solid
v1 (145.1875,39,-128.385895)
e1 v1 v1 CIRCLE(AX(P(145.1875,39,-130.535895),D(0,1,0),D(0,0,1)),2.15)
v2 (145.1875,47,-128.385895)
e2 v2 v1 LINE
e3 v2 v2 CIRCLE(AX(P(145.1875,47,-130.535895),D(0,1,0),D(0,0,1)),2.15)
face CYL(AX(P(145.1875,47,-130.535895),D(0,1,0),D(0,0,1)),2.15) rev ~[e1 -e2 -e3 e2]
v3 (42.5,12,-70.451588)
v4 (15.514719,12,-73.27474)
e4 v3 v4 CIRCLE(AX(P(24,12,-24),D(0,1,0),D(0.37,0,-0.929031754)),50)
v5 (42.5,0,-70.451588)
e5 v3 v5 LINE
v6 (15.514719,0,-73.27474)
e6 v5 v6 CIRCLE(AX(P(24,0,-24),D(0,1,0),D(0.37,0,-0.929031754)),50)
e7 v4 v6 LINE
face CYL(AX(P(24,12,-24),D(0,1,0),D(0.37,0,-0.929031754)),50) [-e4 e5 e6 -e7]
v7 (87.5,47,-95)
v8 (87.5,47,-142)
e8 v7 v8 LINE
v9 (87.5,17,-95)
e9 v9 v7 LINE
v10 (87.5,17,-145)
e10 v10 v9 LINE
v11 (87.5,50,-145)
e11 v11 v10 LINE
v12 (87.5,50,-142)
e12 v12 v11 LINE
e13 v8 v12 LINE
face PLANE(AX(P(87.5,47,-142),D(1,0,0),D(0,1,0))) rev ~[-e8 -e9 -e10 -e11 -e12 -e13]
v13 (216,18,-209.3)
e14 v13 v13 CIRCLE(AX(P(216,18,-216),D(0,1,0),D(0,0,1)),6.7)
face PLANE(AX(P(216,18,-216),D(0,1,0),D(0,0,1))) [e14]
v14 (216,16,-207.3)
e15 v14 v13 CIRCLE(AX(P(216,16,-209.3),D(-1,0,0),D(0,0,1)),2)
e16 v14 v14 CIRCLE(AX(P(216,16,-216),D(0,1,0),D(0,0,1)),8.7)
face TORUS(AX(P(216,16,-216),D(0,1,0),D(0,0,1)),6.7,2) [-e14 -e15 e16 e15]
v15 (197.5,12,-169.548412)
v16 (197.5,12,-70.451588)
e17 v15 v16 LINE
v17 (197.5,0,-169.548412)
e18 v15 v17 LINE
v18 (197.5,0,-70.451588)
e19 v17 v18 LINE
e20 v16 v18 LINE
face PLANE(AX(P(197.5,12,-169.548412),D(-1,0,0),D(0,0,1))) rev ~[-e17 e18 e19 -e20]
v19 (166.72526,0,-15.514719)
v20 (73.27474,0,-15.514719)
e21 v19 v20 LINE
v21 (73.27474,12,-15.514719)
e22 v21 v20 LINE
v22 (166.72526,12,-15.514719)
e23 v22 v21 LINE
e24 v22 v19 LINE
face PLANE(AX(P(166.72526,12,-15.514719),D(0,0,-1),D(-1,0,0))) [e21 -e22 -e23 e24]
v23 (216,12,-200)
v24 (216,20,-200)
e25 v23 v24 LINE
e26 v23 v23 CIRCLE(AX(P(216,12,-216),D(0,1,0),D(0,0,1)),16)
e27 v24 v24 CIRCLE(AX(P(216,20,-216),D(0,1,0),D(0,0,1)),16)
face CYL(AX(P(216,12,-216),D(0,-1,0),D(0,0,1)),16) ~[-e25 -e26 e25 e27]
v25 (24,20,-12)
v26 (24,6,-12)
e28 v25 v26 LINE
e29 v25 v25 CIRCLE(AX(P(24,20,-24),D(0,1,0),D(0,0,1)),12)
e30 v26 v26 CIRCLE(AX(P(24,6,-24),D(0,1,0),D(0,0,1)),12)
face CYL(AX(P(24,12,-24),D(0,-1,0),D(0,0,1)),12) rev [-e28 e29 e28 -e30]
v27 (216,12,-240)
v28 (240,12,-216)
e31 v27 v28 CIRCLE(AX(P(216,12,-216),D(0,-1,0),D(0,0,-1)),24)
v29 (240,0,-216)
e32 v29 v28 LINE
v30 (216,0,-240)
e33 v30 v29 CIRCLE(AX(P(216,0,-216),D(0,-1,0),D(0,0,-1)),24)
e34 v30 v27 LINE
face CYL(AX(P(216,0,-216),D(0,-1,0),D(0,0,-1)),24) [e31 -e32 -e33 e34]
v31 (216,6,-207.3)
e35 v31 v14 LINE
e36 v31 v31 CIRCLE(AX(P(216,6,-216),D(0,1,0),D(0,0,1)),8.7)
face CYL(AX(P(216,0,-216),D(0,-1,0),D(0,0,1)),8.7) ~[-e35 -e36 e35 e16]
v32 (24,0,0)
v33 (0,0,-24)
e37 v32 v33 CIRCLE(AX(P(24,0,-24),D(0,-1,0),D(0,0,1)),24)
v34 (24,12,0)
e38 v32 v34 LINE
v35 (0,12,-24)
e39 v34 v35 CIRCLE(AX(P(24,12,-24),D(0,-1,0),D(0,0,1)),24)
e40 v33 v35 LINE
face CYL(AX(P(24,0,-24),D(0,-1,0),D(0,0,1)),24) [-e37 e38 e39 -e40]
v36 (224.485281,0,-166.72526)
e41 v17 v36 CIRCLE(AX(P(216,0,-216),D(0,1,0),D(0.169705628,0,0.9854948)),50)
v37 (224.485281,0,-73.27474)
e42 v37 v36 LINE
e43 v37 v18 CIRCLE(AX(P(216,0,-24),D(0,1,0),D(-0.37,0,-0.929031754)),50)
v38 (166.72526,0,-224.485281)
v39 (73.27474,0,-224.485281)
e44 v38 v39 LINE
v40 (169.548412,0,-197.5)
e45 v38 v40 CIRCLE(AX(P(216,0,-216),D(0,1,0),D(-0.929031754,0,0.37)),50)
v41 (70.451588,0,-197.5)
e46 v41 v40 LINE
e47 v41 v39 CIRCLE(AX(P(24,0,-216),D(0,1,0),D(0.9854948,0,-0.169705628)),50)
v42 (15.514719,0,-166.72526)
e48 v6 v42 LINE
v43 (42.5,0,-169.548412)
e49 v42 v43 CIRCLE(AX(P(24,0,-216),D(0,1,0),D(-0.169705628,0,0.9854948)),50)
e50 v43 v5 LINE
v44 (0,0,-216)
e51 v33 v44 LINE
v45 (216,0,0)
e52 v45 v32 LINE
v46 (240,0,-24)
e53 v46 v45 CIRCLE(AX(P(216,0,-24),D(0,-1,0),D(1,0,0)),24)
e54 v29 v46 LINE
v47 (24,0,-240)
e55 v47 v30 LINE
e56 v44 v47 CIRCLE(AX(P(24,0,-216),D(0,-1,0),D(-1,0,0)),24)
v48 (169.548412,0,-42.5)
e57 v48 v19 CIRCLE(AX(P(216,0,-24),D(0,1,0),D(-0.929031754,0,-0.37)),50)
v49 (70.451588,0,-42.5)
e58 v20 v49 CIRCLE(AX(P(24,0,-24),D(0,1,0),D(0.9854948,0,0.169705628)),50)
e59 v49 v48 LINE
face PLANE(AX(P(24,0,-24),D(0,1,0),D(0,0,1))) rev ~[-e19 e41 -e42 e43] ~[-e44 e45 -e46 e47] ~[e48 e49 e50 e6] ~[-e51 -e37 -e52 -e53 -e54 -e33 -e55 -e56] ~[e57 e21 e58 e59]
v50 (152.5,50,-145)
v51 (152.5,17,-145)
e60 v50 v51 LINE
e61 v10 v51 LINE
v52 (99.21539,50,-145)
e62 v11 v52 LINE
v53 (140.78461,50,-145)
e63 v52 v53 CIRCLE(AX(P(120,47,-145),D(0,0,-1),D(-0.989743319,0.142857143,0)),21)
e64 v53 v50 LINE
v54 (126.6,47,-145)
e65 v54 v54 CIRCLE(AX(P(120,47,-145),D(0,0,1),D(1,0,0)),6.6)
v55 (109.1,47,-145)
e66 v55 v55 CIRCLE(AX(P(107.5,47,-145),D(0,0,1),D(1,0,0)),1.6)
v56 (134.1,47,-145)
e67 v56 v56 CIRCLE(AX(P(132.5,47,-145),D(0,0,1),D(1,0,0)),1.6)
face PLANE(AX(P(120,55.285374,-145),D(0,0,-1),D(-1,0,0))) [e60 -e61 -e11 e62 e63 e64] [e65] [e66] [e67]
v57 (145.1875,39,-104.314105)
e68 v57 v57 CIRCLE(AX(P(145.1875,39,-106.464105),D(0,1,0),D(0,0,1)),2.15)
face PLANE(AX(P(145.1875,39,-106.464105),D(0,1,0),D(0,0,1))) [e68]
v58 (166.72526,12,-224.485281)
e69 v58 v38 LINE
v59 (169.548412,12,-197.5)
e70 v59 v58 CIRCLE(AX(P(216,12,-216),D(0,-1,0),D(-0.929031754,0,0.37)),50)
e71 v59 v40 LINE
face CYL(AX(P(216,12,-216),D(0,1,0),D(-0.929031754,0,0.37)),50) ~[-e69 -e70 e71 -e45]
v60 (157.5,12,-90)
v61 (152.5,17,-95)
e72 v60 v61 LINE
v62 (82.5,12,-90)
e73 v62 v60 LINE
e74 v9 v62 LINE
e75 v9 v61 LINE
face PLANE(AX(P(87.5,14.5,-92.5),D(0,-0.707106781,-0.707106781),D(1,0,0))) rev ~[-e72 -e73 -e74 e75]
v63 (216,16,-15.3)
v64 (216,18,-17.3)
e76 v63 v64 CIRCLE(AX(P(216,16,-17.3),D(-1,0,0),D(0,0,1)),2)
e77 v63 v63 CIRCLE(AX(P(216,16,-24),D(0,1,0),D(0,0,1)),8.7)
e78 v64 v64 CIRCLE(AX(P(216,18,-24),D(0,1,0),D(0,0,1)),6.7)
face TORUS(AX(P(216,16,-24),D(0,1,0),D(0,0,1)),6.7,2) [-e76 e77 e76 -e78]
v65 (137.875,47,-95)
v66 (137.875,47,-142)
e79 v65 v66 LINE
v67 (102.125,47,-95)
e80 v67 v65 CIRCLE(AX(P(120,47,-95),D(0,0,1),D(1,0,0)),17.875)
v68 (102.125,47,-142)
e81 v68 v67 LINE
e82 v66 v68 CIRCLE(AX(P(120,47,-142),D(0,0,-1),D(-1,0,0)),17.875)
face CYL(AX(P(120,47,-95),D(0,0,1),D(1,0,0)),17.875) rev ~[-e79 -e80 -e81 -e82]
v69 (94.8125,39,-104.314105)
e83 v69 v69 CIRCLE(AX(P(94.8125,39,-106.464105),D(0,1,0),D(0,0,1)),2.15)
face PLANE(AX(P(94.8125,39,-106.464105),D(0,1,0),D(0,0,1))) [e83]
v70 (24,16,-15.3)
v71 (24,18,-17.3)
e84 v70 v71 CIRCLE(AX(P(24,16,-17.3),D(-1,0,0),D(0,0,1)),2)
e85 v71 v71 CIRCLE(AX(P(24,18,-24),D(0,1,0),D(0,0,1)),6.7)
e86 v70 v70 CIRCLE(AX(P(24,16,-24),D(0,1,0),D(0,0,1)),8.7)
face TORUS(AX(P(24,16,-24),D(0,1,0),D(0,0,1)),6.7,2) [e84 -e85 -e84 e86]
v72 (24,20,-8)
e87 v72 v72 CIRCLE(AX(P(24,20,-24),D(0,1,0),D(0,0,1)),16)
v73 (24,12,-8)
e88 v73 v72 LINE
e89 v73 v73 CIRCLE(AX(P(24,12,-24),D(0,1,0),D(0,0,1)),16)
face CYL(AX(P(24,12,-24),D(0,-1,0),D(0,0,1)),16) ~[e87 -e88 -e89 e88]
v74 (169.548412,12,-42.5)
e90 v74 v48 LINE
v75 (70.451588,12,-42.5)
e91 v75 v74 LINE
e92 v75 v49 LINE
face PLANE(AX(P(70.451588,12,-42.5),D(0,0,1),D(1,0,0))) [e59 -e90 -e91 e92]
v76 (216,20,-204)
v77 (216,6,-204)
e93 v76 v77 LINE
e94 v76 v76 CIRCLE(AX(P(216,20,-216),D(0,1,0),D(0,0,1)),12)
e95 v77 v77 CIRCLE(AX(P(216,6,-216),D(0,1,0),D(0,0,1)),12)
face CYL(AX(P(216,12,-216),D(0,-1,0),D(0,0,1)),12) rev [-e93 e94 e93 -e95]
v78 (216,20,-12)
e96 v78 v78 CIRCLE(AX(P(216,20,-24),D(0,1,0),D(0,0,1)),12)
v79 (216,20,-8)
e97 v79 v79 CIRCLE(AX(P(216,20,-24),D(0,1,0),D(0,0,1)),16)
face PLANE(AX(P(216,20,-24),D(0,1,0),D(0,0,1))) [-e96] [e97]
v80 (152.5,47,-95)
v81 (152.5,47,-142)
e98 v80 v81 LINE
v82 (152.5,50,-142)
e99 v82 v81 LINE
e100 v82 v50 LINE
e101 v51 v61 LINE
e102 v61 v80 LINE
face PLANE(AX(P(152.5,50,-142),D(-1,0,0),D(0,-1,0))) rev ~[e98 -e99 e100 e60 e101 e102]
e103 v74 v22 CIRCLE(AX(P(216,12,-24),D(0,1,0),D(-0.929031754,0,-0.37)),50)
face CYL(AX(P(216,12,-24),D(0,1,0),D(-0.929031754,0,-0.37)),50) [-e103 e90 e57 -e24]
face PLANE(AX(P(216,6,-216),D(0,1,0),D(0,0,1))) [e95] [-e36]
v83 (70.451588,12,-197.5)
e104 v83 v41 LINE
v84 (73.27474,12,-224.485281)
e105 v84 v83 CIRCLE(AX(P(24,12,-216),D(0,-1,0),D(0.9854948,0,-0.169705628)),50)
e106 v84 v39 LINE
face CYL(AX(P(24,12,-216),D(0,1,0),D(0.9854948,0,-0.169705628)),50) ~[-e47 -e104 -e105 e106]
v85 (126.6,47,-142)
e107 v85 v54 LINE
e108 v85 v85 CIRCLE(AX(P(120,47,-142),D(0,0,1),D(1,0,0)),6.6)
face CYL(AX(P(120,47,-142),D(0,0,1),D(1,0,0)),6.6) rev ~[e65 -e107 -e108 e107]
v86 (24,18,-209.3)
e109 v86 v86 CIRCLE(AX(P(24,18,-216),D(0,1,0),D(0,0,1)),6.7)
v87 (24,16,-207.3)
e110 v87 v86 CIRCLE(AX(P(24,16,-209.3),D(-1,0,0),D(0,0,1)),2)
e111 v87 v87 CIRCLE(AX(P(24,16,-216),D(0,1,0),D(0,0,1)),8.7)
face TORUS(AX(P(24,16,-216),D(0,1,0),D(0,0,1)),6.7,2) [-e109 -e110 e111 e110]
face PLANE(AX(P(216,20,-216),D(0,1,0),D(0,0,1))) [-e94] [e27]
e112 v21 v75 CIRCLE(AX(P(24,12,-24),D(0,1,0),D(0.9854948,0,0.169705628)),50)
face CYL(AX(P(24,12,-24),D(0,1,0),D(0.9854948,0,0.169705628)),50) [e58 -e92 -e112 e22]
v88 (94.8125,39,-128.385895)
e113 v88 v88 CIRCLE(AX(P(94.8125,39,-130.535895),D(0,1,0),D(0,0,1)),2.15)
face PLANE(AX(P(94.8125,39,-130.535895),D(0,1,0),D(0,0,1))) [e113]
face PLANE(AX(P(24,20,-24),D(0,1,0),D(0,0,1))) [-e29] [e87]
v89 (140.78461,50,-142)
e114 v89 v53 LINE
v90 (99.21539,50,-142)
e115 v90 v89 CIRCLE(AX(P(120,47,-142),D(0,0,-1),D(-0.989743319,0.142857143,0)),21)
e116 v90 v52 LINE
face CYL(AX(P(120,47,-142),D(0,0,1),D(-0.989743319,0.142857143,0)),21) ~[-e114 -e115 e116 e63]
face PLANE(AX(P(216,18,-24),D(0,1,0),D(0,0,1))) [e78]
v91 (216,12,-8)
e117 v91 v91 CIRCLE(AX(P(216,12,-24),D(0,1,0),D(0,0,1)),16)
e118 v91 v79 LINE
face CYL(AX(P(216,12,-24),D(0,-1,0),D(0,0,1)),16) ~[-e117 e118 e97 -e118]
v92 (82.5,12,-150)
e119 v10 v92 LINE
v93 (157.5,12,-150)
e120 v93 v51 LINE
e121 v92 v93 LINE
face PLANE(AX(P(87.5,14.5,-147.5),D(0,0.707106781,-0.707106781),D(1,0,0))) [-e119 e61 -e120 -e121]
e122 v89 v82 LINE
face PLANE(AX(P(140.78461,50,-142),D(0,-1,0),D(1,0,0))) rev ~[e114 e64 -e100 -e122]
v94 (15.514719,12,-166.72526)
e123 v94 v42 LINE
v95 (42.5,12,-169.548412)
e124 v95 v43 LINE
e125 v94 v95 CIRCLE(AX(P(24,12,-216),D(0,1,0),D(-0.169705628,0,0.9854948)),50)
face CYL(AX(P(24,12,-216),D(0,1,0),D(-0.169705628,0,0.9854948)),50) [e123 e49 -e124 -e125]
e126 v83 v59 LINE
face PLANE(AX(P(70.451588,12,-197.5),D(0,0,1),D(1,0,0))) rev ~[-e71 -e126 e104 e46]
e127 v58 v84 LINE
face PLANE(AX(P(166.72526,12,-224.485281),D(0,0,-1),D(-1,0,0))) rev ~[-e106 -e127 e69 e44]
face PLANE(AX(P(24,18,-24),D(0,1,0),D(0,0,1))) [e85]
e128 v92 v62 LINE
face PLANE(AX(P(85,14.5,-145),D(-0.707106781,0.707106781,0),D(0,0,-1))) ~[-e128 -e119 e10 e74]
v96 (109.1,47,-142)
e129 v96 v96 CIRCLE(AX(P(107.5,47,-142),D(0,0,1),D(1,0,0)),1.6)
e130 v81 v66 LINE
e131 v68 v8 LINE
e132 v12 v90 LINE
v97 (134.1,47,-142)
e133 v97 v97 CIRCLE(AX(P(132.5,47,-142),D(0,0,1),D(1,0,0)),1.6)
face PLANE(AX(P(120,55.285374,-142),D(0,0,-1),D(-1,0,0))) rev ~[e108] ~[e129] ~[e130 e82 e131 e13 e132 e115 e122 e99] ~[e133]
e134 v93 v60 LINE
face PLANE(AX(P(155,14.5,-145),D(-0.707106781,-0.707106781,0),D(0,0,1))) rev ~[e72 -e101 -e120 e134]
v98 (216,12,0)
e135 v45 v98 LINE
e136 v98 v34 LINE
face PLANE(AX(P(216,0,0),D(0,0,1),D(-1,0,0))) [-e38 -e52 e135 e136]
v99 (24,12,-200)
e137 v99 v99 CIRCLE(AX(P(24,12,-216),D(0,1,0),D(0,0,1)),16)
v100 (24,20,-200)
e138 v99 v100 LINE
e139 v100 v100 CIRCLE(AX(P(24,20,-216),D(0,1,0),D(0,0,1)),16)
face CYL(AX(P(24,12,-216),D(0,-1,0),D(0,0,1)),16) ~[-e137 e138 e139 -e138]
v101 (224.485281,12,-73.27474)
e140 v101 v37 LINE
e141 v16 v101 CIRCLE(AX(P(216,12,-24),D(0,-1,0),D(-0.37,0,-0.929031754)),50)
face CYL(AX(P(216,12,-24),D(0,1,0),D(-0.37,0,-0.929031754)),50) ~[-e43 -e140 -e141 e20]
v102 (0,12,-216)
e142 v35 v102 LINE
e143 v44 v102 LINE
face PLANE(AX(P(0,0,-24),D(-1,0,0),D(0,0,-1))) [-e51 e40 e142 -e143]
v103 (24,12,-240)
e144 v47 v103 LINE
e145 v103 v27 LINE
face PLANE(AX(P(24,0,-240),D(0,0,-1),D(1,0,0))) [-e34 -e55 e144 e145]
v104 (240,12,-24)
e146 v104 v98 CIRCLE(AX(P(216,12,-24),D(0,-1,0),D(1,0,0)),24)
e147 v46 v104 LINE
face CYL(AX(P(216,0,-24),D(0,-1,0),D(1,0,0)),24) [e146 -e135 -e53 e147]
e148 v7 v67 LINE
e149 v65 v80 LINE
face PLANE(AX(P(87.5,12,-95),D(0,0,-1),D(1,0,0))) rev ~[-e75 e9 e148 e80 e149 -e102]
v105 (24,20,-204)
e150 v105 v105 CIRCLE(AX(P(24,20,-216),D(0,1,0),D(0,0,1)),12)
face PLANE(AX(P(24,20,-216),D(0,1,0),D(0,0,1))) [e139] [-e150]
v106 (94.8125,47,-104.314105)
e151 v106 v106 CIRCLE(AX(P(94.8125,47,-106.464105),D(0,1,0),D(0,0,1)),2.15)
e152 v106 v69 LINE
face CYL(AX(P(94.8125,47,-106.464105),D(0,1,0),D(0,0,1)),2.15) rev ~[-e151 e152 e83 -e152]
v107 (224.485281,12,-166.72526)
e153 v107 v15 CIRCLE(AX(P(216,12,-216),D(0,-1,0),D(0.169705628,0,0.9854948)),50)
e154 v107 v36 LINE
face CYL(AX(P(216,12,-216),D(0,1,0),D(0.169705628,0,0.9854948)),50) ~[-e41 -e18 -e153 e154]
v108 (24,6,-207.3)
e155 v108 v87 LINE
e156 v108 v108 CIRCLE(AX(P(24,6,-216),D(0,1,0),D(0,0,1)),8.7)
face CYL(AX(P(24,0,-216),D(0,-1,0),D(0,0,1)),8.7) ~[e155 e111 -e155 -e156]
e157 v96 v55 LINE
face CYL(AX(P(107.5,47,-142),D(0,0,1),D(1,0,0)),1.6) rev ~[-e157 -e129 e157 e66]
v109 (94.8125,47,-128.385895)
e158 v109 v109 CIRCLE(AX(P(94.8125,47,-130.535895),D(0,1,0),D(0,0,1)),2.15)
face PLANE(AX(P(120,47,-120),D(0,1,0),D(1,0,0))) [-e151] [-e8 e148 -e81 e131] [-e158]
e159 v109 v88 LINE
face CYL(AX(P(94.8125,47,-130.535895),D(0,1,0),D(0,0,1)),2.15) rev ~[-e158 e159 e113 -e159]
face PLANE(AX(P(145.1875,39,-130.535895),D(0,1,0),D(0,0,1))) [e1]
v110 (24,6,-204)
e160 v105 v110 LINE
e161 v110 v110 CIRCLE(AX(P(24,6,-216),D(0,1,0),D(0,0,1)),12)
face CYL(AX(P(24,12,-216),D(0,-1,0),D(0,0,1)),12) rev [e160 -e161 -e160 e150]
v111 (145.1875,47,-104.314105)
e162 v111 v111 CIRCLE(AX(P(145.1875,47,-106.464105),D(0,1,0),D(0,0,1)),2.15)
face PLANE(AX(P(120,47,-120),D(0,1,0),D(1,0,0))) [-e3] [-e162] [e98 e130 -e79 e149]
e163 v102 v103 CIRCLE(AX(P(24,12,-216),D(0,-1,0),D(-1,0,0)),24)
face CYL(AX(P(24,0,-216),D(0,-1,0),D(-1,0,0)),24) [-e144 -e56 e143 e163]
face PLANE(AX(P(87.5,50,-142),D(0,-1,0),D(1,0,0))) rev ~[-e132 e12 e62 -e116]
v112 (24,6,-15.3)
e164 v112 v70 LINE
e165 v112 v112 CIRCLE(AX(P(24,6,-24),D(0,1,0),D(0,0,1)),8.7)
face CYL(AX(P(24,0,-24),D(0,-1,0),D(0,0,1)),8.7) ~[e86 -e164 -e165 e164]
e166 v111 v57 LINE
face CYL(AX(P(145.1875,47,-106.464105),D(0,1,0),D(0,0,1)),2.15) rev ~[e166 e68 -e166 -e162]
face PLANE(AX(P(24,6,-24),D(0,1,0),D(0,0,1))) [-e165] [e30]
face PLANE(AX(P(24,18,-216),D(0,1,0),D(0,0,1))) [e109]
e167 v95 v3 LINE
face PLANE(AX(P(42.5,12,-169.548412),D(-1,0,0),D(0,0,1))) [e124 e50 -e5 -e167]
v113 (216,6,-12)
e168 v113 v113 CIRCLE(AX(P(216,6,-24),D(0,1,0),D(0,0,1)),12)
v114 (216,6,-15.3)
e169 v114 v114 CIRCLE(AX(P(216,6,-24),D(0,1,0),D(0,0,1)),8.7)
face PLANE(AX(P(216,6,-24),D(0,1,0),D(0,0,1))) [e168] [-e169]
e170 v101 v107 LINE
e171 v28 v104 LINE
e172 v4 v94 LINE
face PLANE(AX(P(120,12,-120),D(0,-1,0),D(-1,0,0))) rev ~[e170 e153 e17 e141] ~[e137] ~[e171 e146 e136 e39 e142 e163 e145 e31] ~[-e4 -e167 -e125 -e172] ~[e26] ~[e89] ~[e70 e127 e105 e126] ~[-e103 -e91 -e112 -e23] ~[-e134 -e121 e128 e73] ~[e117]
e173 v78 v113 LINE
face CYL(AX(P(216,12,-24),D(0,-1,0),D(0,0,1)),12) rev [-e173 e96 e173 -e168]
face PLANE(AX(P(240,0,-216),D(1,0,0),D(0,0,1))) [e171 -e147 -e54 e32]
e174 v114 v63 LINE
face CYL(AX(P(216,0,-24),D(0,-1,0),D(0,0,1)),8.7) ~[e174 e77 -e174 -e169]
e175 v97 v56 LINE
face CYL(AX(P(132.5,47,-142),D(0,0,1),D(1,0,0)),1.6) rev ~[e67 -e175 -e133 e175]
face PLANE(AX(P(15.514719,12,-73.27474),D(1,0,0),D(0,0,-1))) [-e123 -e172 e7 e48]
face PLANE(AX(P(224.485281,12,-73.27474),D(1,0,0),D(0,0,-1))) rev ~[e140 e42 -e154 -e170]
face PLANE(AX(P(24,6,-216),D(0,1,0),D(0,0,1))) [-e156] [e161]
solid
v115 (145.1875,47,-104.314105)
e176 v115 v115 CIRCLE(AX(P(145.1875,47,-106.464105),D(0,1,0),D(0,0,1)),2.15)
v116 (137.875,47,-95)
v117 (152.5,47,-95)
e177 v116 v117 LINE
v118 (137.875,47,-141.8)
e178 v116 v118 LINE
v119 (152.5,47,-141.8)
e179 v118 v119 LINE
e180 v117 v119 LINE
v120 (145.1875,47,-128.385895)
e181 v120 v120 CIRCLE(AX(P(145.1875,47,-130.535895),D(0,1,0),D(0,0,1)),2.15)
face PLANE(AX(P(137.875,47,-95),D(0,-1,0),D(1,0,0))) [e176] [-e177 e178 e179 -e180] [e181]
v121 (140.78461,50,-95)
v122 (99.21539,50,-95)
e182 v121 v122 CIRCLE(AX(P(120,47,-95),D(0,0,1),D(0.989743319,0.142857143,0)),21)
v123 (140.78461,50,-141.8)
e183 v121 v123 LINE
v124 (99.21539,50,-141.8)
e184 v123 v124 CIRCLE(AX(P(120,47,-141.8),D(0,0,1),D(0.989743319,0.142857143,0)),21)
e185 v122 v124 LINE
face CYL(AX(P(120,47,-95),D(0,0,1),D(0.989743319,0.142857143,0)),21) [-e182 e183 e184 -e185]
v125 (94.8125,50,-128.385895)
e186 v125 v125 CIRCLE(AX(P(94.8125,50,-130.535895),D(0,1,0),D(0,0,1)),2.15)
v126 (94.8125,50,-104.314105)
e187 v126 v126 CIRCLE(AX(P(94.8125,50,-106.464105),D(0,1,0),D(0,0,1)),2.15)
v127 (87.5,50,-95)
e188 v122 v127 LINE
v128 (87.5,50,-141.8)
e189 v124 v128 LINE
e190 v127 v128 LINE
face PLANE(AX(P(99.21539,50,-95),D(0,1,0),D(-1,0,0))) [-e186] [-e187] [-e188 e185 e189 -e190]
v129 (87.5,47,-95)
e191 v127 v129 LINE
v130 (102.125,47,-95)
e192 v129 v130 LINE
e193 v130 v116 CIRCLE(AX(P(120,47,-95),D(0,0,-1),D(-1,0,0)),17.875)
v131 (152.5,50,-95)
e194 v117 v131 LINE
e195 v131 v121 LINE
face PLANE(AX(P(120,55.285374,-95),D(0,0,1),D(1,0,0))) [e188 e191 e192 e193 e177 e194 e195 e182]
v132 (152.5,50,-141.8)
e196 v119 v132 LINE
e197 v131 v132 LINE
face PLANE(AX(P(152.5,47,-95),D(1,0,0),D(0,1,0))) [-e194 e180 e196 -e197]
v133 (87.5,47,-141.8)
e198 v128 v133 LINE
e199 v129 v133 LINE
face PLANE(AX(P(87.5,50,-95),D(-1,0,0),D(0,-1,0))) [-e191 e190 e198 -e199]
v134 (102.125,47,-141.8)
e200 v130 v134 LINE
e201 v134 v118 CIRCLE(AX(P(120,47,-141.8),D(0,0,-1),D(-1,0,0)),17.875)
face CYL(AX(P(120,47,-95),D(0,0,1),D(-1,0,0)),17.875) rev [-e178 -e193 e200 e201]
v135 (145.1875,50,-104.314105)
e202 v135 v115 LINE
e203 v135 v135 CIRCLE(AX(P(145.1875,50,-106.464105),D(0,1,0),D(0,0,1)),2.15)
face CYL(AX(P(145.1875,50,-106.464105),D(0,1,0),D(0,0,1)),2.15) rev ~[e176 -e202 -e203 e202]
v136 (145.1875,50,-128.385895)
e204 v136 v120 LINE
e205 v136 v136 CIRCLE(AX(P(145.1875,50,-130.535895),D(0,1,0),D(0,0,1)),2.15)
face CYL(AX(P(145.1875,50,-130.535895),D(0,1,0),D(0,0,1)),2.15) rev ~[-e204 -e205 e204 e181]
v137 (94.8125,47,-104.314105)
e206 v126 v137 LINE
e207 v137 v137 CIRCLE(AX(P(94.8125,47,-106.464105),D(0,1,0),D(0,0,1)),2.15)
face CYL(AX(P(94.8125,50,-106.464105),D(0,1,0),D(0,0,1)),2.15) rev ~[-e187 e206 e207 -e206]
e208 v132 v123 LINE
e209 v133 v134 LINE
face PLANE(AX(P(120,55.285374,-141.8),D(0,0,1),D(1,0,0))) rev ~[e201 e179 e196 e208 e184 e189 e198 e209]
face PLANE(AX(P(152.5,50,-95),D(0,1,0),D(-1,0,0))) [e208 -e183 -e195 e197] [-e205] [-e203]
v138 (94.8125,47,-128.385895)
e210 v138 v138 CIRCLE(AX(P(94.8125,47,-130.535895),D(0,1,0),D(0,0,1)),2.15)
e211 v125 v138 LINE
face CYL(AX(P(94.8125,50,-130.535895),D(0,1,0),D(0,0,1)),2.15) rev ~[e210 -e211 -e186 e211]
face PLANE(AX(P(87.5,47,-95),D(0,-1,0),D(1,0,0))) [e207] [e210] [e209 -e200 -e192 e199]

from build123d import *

# Parameters (mm, degrees)
SKETCH1_R           = 12
BOSS_EXTRUDE1_DEPTH = 12
SKETCH1_3_R         = 12
SKETCH1_3_R_2       = 8.7
BOSS_EXTRUDE2_DEPTH = 6
SKETCH1_4_R         = 8.7
BOSS_EXTRUDE3_DEPTH = 18
FILLET1_R           = 2
SKETCH2_R           = 16
SKETCH2_R_2         = 12
BOSS_EXTRUDE4_DEPTH = 8
SKETCH3_W           = 65
SKETCH3_H           = 15
BOSS_EXTRUDE5_DEPTH = 35
SKETCH10_W          = 65
SKETCH10_H          = 20
BOSS_EXTRUDE6_DEPTH = 35
SKETCH4_R           = 17.875
CUT_EXTRUDE1_DEPTH  = 49
CHAMFER1_SIZE       = 5
BOSS_EXTRUDE7_START = -3
SKETCH11_R          = 17.875
BOSS_EXTRUDE7_DEPTH = 3
SKETCH9_R           = 2.15
CUT_EXTRUDE2_DEPTH  = 8
SKETCH13_R          = 6.6
CUT_EXTRUDE3_DEPTH  = 8
SKETCH14_R          = 1.6
CUT_EXTRUDE4_DEPTH  = 8
BOSS_EXTRUDE8_DEPTH = 46.8
SKETCH16_R          = 2.15
CUT_EXTRUDE5_DEPTH  = 5.2
BOSS_EXTRUDE9_START = -3
BOSS_EXTRUDE9_DEPTH = 3
CUT_EXTRUDE6_DEPTH  = 26.2


with BuildPart() as part:
    # Sketch1 → Boss-Extrude1 (new body)
    with BuildSketch(Plane(origin=(0, 0, 0), x_dir=(1, 0, 0), z_dir=(0, 1, 0))):
        with BuildLine():
            ThreePointArc((0, 216), (7.029437252, 232.970562748), (24, 240))
            Line((24, 240), (216, 240))
            ThreePointArc((216, 240), (232.970562748, 232.970562748), (240, 216))
            Line((240, 216), (240, 24))
            ThreePointArc((240, 24), (232.970562748, 7.029437252), (216, 0))
            Line((216, 0), (24, 0))
            ThreePointArc((24, 0), (7.029437252, 7.029437252), (0, 24))
            Line((0, 24), (0, 216))
        make_face()
        with Locations(Location((24, 24, 0), (0, 0, 270))):
            Circle(SKETCH1_R, mode=Mode.SUBTRACT)
        with Locations(Location((216, 24, 0), (0, 0, 270))):
            Circle(SKETCH1_R, mode=Mode.SUBTRACT)
        with Locations(Location((216, 216, 0), (0, 0, 270))):
            Circle(SKETCH1_R, mode=Mode.SUBTRACT)
        with Locations(Location((24, 216, 0), (0, 0, 270))):
            Circle(SKETCH1_R, mode=Mode.SUBTRACT)
    extrude(amount=BOSS_EXTRUDE1_DEPTH)

    # Sketch1<3> → Boss-Extrude2 (add)
    # profile 1 of 4: a face of its own
    with BuildSketch(Plane(origin=(0, 0, 0), x_dir=(1, 0, 0), z_dir=(0, 1, 0))):
        with Locations(Location((24, 24, 0), (0, 0, 270))):
            Circle(SKETCH1_3_R)
        with Locations(Location((24, 24, 0), (0, 0, 270))):
            Circle(SKETCH1_3_R_2, mode=Mode.SUBTRACT)
    # profile 2 of 4: a face of its own
    with BuildSketch(Plane(origin=(0, 0, 0), x_dir=(1, 0, 0), z_dir=(0, 1, 0))):
        with Locations(Location((24, 216, 0), (0, 0, 270))):
            Circle(SKETCH1_3_R)
        with Locations(Location((24, 216, 0), (0, 0, 270))):
            Circle(SKETCH1_3_R_2, mode=Mode.SUBTRACT)
    # profile 3 of 4: a face of its own
    with BuildSketch(Plane(origin=(0, 0, 0), x_dir=(1, 0, 0), z_dir=(0, 1, 0))):
        with Locations(Location((216, 216, 0), (0, 0, 270))):
            Circle(SKETCH1_3_R)
        with Locations(Location((216, 216, 0), (0, 0, 270))):
            Circle(SKETCH1_3_R_2, mode=Mode.SUBTRACT)
    # profile 4 of 4: a face of its own
    with BuildSketch(Plane(origin=(0, 0, 0), x_dir=(1, 0, 0), z_dir=(0, 1, 0))):
        with Locations(Location((216, 24, 0), (0, 0, 270))):
            Circle(SKETCH1_3_R)
        with Locations(Location((216, 24, 0), (0, 0, 270))):
            Circle(SKETCH1_3_R_2, mode=Mode.SUBTRACT)
    extrude(amount=BOSS_EXTRUDE2_DEPTH)

    # Sketch1<4> → Boss-Extrude3 (add)
    with BuildSketch(Plane(origin=(0, 0, 0), x_dir=(1, 0, 0), z_dir=(0, 1, 0))):
        with Locations(Location((216, 216, 0), (0, 0, 270))):
            Circle(SKETCH1_4_R)
        with Locations(Location((216, 24, 0), (0, 0, 270))):
            Circle(SKETCH1_4_R)
        with Locations(Location((24, 24, 0), (0, 0, 270))):
            Circle(SKETCH1_4_R)
        with Locations(Location((24, 216, 0), (0, 0, 270))):
            Circle(SKETCH1_4_R)
    extrude(amount=BOSS_EXTRUDE3_DEPTH)

    # Fillet1
    fillet1_edges = [part.edges().sort_by_distance(p)[0] for p in [
        (216, 18, -224.7),
        (216, 18, -32.7),
        (24, 18, -32.7),
        (24, 18, -224.7),
    ]]
    fillet(fillet1_edges, radius=FILLET1_R)

    # Sketch2 → Boss-Extrude4 (add)
    # profile 1 of 4: a face of its own
    with BuildSketch(Plane(origin=(0, 12, 0), x_dir=(1, 0, 0), z_dir=(0, 1, 0))):
        with Locations(Location((24, 24, 0), (0, 0, 270))):
            Circle(SKETCH2_R)
        with Locations(Location((24, 24, 0), (0, 0, 270))):
            Circle(SKETCH2_R_2, mode=Mode.SUBTRACT)
    # profile 2 of 4: a face of its own
    with BuildSketch(Plane(origin=(0, 12, 0), x_dir=(1, 0, 0), z_dir=(0, 1, 0))):
        with Locations(Location((216, 24, 0), (0, 0, 270))):
            Circle(SKETCH2_R)
        with Locations(Location((216, 24, 0), (0, 0, 270))):
            Circle(SKETCH2_R_2, mode=Mode.SUBTRACT)
    # profile 3 of 4: a face of its own
    with BuildSketch(Plane(origin=(0, 12, 0), x_dir=(1, 0, 0), z_dir=(0, 1, 0))):
        with Locations(Location((216, 216, 0), (0, 0, 270))):
            Circle(SKETCH2_R)
        with Locations(Location((216, 216, 0), (0, 0, 270))):
            Circle(SKETCH2_R_2, mode=Mode.SUBTRACT)
    # profile 4 of 4: a face of its own
    with BuildSketch(Plane(origin=(0, 12, 0), x_dir=(1, 0, 0), z_dir=(0, 1, 0))):
        with Locations(Location((24, 216, 0), (0, 0, 270))):
            Circle(SKETCH2_R)
        with Locations(Location((24, 216, 0), (0, 0, 270))):
            Circle(SKETCH2_R_2, mode=Mode.SUBTRACT)
    extrude(amount=BOSS_EXTRUDE4_DEPTH)

    # Sketch3 → Boss-Extrude5 (add)
    with BuildSketch(Plane(origin=(0, 12, 0), x_dir=(1, 0, 0), z_dir=(0, 1, 0))):
        with Locations((120, 137.5)):
            Rectangle(SKETCH3_W, SKETCH3_H)
        with Locations((120, 102.5)):
            Rectangle(SKETCH3_W, SKETCH3_H)
    extrude(amount=BOSS_EXTRUDE5_DEPTH)

    # Sketch10 → Boss-Extrude6 (add)
    with BuildSketch(Plane(origin=(0, 12, 0), x_dir=(1, 0, 0), z_dir=(0, 1, 0))):
        with Locations((120, 120)):
            Rectangle(SKETCH10_W, SKETCH10_H)
    extrude(amount=BOSS_EXTRUDE6_DEPTH)

    # Sketch4 → Cut-Extrude1 (cut)
    with BuildSketch(Plane.XY.offset(-95)):
        with Locations((120, 47)):
            Circle(SKETCH4_R)
    extrude(amount=-CUT_EXTRUDE1_DEPTH, mode=Mode.SUBTRACT)

    # Chamfer1
    chamfer1_edges = [part.edges().sort_by_distance(p)[0] for p in [
        (87.5, 12, -120),
        (152.5, 12, -120),
        (120, 12, -145),
        (120, 12, -95),
    ]]
    chamfer(chamfer1_edges, length=CHAMFER1_SIZE)

    # Sketch11 → Boss-Extrude7 (add)
    with BuildSketch(Plane(origin=(0, 0, -145), x_dir=(-1, 0, 0), z_dir=(0, 0, -1)).offset(BOSS_EXTRUDE7_START)):
        with Locations((-120, 47)):
            Circle(SKETCH11_R)
    extrude(amount=BOSS_EXTRUDE7_DEPTH)

    # Sketch9 → Cut-Extrude2 (cut)
    with BuildSketch(Plane(origin=(0, 47, 0), x_dir=(1, 0, 0), z_dir=(0, 1, 0))):
        with Locations(Location((145.1875, 106.464105431, 0), (0, 0, 270))):
            Circle(SKETCH9_R)
        with Locations(Location((94.8125, 106.464105431, 0), (0, 0, 270))):
            Circle(SKETCH9_R)
        with Locations(Location((145.1875, 130.535894569, 0), (0, 0, 270))):
            Circle(SKETCH9_R)
        with Locations(Location((94.8125, 130.535894569, 0), (0, 0, 270))):
            Circle(SKETCH9_R)
    extrude(amount=-CUT_EXTRUDE2_DEPTH, mode=Mode.SUBTRACT)

    # Sketch13 → Cut-Extrude3 (cut)
    with BuildSketch(Plane.XY.offset(-142)):
        with Locations((120, 47)):
            Circle(SKETCH13_R)
    extrude(amount=-CUT_EXTRUDE3_DEPTH, mode=Mode.SUBTRACT)

    # Sketch14 → Cut-Extrude4 (cut)
    with BuildSketch(Plane.XY.offset(-142)):
        with Locations((132.5, 47)):
            Circle(SKETCH14_R)
        with Locations((107.5, 47)):
            Circle(SKETCH14_R)
    extrude(amount=-CUT_EXTRUDE4_DEPTH, mode=Mode.SUBTRACT)

    # Sketch17 → Boss-Extrude9 (add)
    with BuildSketch(Plane(origin=(0, 0, -145), x_dir=(-1, 0, 0), z_dir=(0, 0, -1)).offset(BOSS_EXTRUDE9_START)):
        with BuildLine():
            Line((-87.5, 47), (-87.5, 50))
            Line((-87.5, 50), (-99.215390309, 50))
            ThreePointArc((-99.215390309, 50), (-120, 68), (-140.784609691, 50))
            Line((-140.784609691, 50), (-152.5, 50))
            Line((-152.5, 50), (-152.5, 47))
            Line((-152.5, 47), (-137.875, 47))
            ThreePointArc((-137.875, 47), (-120, 64.875), (-102.125, 47))
            Line((-102.125, 47), (-87.5, 47))
        make_face()
    extrude(amount=BOSS_EXTRUDE9_DEPTH)

    # Sketch19 → Cut-Extrude6 (cut)
    with BuildSketch(Plane(origin=(0, 12, 0), x_dir=(1, 0, 0), z_dir=(0, 1, 0))):
        with BuildLine():
            Line((70.451587702, 197.5), (169.548412298, 197.5))
            ThreePointArc((169.548412298, 197.5), (166.271398516, 210.797481909), (166.725260021, 224.485281374))
            Line((166.725260021, 224.485281374), (73.274739979, 224.485281374))
            ThreePointArc((73.274739979, 224.485281374), (73.728601484, 210.797481909), (70.451587702, 197.5))
        make_face()
        with BuildLine():
            Line((42.5, 169.548412298), (42.5, 70.451587702))
            ThreePointArc((42.5, 70.451587702), (29.202518091, 73.728601484), (15.514718626, 73.274739979))
            Line((15.514718626, 73.274739979), (15.514718626, 166.725260021))
            ThreePointArc((15.514718626, 166.725260021), (29.202518091, 166.271398516), (42.5, 169.548412298))
        make_face()
        with BuildLine():
            Line((70.451587702, 42.5), (169.548412298, 42.5))
            ThreePointArc((169.548412298, 42.5), (166.271398516, 29.202518091), (166.725260021, 15.514718626))
            Line((166.725260021, 15.514718626), (73.274739979, 15.514718626))
            ThreePointArc((73.274739979, 15.514718626), (73.728601484, 29.202518091), (70.451587702, 42.5))
        make_face()
        with BuildLine():
            Line((197.5, 169.548412298), (197.5, 70.451587702))
            ThreePointArc((197.5, 70.451587702), (210.797481909, 73.728601484), (224.485281374, 73.274739979))
            Line((224.485281374, 73.274739979), (224.485281374, 166.725260021))
            ThreePointArc((224.485281374, 166.725260021), (210.797481909, 166.271398516), (197.5, 169.548412298))
        make_face()
    extrude(amount=-CUT_EXTRUDE6_DEPTH, mode=Mode.SUBTRACT)


with BuildPart() as body_2:
    # Sketch15 → Boss-Extrude8 (new body)
    with BuildSketch(Plane.XY.offset(-95)):
        with BuildLine():
            Line((87.5, 47), (102.125, 47))
            ThreePointArc((102.125, 47), (120, 64.875), (137.875, 47))
            Line((137.875, 47), (152.5, 47))
            Line((152.5, 47), (152.5, 50))
            Line((152.5, 50), (140.784609691, 50))
            ThreePointArc((140.784609691, 50), (120, 68), (99.215390309, 50))
            Line((99.215390309, 50), (87.5, 50))
            Line((87.5, 50), (87.5, 47))
        make_face()
    extrude(amount=-BOSS_EXTRUDE8_DEPTH)

    # Sketch16 → Cut-Extrude5 (cut)
    with BuildSketch(Plane(origin=(0, 50, 0), x_dir=(1, 0, 0), z_dir=(0, 1, 0))):
        with Locations(Location((145.1875, 130.535894569, 0), (0, 0, 270))):
            Circle(SKETCH16_R)
        with Locations(Location((94.8125, 106.464105431, 0), (0, 0, 270))):
            Circle(SKETCH16_R)
        with Locations(Location((145.1875, 106.464105431, 0), (0, 0, 270))):
            Circle(SKETCH16_R)
        with Locations(Location((94.8125, 130.535894569, 0), (0, 0, 270))):
            Circle(SKETCH16_R)
    extrude(amount=-CUT_EXTRUDE5_DEPTH, mode=Mode.SUBTRACT)


solid = Compound([part.part, body_2.part])
